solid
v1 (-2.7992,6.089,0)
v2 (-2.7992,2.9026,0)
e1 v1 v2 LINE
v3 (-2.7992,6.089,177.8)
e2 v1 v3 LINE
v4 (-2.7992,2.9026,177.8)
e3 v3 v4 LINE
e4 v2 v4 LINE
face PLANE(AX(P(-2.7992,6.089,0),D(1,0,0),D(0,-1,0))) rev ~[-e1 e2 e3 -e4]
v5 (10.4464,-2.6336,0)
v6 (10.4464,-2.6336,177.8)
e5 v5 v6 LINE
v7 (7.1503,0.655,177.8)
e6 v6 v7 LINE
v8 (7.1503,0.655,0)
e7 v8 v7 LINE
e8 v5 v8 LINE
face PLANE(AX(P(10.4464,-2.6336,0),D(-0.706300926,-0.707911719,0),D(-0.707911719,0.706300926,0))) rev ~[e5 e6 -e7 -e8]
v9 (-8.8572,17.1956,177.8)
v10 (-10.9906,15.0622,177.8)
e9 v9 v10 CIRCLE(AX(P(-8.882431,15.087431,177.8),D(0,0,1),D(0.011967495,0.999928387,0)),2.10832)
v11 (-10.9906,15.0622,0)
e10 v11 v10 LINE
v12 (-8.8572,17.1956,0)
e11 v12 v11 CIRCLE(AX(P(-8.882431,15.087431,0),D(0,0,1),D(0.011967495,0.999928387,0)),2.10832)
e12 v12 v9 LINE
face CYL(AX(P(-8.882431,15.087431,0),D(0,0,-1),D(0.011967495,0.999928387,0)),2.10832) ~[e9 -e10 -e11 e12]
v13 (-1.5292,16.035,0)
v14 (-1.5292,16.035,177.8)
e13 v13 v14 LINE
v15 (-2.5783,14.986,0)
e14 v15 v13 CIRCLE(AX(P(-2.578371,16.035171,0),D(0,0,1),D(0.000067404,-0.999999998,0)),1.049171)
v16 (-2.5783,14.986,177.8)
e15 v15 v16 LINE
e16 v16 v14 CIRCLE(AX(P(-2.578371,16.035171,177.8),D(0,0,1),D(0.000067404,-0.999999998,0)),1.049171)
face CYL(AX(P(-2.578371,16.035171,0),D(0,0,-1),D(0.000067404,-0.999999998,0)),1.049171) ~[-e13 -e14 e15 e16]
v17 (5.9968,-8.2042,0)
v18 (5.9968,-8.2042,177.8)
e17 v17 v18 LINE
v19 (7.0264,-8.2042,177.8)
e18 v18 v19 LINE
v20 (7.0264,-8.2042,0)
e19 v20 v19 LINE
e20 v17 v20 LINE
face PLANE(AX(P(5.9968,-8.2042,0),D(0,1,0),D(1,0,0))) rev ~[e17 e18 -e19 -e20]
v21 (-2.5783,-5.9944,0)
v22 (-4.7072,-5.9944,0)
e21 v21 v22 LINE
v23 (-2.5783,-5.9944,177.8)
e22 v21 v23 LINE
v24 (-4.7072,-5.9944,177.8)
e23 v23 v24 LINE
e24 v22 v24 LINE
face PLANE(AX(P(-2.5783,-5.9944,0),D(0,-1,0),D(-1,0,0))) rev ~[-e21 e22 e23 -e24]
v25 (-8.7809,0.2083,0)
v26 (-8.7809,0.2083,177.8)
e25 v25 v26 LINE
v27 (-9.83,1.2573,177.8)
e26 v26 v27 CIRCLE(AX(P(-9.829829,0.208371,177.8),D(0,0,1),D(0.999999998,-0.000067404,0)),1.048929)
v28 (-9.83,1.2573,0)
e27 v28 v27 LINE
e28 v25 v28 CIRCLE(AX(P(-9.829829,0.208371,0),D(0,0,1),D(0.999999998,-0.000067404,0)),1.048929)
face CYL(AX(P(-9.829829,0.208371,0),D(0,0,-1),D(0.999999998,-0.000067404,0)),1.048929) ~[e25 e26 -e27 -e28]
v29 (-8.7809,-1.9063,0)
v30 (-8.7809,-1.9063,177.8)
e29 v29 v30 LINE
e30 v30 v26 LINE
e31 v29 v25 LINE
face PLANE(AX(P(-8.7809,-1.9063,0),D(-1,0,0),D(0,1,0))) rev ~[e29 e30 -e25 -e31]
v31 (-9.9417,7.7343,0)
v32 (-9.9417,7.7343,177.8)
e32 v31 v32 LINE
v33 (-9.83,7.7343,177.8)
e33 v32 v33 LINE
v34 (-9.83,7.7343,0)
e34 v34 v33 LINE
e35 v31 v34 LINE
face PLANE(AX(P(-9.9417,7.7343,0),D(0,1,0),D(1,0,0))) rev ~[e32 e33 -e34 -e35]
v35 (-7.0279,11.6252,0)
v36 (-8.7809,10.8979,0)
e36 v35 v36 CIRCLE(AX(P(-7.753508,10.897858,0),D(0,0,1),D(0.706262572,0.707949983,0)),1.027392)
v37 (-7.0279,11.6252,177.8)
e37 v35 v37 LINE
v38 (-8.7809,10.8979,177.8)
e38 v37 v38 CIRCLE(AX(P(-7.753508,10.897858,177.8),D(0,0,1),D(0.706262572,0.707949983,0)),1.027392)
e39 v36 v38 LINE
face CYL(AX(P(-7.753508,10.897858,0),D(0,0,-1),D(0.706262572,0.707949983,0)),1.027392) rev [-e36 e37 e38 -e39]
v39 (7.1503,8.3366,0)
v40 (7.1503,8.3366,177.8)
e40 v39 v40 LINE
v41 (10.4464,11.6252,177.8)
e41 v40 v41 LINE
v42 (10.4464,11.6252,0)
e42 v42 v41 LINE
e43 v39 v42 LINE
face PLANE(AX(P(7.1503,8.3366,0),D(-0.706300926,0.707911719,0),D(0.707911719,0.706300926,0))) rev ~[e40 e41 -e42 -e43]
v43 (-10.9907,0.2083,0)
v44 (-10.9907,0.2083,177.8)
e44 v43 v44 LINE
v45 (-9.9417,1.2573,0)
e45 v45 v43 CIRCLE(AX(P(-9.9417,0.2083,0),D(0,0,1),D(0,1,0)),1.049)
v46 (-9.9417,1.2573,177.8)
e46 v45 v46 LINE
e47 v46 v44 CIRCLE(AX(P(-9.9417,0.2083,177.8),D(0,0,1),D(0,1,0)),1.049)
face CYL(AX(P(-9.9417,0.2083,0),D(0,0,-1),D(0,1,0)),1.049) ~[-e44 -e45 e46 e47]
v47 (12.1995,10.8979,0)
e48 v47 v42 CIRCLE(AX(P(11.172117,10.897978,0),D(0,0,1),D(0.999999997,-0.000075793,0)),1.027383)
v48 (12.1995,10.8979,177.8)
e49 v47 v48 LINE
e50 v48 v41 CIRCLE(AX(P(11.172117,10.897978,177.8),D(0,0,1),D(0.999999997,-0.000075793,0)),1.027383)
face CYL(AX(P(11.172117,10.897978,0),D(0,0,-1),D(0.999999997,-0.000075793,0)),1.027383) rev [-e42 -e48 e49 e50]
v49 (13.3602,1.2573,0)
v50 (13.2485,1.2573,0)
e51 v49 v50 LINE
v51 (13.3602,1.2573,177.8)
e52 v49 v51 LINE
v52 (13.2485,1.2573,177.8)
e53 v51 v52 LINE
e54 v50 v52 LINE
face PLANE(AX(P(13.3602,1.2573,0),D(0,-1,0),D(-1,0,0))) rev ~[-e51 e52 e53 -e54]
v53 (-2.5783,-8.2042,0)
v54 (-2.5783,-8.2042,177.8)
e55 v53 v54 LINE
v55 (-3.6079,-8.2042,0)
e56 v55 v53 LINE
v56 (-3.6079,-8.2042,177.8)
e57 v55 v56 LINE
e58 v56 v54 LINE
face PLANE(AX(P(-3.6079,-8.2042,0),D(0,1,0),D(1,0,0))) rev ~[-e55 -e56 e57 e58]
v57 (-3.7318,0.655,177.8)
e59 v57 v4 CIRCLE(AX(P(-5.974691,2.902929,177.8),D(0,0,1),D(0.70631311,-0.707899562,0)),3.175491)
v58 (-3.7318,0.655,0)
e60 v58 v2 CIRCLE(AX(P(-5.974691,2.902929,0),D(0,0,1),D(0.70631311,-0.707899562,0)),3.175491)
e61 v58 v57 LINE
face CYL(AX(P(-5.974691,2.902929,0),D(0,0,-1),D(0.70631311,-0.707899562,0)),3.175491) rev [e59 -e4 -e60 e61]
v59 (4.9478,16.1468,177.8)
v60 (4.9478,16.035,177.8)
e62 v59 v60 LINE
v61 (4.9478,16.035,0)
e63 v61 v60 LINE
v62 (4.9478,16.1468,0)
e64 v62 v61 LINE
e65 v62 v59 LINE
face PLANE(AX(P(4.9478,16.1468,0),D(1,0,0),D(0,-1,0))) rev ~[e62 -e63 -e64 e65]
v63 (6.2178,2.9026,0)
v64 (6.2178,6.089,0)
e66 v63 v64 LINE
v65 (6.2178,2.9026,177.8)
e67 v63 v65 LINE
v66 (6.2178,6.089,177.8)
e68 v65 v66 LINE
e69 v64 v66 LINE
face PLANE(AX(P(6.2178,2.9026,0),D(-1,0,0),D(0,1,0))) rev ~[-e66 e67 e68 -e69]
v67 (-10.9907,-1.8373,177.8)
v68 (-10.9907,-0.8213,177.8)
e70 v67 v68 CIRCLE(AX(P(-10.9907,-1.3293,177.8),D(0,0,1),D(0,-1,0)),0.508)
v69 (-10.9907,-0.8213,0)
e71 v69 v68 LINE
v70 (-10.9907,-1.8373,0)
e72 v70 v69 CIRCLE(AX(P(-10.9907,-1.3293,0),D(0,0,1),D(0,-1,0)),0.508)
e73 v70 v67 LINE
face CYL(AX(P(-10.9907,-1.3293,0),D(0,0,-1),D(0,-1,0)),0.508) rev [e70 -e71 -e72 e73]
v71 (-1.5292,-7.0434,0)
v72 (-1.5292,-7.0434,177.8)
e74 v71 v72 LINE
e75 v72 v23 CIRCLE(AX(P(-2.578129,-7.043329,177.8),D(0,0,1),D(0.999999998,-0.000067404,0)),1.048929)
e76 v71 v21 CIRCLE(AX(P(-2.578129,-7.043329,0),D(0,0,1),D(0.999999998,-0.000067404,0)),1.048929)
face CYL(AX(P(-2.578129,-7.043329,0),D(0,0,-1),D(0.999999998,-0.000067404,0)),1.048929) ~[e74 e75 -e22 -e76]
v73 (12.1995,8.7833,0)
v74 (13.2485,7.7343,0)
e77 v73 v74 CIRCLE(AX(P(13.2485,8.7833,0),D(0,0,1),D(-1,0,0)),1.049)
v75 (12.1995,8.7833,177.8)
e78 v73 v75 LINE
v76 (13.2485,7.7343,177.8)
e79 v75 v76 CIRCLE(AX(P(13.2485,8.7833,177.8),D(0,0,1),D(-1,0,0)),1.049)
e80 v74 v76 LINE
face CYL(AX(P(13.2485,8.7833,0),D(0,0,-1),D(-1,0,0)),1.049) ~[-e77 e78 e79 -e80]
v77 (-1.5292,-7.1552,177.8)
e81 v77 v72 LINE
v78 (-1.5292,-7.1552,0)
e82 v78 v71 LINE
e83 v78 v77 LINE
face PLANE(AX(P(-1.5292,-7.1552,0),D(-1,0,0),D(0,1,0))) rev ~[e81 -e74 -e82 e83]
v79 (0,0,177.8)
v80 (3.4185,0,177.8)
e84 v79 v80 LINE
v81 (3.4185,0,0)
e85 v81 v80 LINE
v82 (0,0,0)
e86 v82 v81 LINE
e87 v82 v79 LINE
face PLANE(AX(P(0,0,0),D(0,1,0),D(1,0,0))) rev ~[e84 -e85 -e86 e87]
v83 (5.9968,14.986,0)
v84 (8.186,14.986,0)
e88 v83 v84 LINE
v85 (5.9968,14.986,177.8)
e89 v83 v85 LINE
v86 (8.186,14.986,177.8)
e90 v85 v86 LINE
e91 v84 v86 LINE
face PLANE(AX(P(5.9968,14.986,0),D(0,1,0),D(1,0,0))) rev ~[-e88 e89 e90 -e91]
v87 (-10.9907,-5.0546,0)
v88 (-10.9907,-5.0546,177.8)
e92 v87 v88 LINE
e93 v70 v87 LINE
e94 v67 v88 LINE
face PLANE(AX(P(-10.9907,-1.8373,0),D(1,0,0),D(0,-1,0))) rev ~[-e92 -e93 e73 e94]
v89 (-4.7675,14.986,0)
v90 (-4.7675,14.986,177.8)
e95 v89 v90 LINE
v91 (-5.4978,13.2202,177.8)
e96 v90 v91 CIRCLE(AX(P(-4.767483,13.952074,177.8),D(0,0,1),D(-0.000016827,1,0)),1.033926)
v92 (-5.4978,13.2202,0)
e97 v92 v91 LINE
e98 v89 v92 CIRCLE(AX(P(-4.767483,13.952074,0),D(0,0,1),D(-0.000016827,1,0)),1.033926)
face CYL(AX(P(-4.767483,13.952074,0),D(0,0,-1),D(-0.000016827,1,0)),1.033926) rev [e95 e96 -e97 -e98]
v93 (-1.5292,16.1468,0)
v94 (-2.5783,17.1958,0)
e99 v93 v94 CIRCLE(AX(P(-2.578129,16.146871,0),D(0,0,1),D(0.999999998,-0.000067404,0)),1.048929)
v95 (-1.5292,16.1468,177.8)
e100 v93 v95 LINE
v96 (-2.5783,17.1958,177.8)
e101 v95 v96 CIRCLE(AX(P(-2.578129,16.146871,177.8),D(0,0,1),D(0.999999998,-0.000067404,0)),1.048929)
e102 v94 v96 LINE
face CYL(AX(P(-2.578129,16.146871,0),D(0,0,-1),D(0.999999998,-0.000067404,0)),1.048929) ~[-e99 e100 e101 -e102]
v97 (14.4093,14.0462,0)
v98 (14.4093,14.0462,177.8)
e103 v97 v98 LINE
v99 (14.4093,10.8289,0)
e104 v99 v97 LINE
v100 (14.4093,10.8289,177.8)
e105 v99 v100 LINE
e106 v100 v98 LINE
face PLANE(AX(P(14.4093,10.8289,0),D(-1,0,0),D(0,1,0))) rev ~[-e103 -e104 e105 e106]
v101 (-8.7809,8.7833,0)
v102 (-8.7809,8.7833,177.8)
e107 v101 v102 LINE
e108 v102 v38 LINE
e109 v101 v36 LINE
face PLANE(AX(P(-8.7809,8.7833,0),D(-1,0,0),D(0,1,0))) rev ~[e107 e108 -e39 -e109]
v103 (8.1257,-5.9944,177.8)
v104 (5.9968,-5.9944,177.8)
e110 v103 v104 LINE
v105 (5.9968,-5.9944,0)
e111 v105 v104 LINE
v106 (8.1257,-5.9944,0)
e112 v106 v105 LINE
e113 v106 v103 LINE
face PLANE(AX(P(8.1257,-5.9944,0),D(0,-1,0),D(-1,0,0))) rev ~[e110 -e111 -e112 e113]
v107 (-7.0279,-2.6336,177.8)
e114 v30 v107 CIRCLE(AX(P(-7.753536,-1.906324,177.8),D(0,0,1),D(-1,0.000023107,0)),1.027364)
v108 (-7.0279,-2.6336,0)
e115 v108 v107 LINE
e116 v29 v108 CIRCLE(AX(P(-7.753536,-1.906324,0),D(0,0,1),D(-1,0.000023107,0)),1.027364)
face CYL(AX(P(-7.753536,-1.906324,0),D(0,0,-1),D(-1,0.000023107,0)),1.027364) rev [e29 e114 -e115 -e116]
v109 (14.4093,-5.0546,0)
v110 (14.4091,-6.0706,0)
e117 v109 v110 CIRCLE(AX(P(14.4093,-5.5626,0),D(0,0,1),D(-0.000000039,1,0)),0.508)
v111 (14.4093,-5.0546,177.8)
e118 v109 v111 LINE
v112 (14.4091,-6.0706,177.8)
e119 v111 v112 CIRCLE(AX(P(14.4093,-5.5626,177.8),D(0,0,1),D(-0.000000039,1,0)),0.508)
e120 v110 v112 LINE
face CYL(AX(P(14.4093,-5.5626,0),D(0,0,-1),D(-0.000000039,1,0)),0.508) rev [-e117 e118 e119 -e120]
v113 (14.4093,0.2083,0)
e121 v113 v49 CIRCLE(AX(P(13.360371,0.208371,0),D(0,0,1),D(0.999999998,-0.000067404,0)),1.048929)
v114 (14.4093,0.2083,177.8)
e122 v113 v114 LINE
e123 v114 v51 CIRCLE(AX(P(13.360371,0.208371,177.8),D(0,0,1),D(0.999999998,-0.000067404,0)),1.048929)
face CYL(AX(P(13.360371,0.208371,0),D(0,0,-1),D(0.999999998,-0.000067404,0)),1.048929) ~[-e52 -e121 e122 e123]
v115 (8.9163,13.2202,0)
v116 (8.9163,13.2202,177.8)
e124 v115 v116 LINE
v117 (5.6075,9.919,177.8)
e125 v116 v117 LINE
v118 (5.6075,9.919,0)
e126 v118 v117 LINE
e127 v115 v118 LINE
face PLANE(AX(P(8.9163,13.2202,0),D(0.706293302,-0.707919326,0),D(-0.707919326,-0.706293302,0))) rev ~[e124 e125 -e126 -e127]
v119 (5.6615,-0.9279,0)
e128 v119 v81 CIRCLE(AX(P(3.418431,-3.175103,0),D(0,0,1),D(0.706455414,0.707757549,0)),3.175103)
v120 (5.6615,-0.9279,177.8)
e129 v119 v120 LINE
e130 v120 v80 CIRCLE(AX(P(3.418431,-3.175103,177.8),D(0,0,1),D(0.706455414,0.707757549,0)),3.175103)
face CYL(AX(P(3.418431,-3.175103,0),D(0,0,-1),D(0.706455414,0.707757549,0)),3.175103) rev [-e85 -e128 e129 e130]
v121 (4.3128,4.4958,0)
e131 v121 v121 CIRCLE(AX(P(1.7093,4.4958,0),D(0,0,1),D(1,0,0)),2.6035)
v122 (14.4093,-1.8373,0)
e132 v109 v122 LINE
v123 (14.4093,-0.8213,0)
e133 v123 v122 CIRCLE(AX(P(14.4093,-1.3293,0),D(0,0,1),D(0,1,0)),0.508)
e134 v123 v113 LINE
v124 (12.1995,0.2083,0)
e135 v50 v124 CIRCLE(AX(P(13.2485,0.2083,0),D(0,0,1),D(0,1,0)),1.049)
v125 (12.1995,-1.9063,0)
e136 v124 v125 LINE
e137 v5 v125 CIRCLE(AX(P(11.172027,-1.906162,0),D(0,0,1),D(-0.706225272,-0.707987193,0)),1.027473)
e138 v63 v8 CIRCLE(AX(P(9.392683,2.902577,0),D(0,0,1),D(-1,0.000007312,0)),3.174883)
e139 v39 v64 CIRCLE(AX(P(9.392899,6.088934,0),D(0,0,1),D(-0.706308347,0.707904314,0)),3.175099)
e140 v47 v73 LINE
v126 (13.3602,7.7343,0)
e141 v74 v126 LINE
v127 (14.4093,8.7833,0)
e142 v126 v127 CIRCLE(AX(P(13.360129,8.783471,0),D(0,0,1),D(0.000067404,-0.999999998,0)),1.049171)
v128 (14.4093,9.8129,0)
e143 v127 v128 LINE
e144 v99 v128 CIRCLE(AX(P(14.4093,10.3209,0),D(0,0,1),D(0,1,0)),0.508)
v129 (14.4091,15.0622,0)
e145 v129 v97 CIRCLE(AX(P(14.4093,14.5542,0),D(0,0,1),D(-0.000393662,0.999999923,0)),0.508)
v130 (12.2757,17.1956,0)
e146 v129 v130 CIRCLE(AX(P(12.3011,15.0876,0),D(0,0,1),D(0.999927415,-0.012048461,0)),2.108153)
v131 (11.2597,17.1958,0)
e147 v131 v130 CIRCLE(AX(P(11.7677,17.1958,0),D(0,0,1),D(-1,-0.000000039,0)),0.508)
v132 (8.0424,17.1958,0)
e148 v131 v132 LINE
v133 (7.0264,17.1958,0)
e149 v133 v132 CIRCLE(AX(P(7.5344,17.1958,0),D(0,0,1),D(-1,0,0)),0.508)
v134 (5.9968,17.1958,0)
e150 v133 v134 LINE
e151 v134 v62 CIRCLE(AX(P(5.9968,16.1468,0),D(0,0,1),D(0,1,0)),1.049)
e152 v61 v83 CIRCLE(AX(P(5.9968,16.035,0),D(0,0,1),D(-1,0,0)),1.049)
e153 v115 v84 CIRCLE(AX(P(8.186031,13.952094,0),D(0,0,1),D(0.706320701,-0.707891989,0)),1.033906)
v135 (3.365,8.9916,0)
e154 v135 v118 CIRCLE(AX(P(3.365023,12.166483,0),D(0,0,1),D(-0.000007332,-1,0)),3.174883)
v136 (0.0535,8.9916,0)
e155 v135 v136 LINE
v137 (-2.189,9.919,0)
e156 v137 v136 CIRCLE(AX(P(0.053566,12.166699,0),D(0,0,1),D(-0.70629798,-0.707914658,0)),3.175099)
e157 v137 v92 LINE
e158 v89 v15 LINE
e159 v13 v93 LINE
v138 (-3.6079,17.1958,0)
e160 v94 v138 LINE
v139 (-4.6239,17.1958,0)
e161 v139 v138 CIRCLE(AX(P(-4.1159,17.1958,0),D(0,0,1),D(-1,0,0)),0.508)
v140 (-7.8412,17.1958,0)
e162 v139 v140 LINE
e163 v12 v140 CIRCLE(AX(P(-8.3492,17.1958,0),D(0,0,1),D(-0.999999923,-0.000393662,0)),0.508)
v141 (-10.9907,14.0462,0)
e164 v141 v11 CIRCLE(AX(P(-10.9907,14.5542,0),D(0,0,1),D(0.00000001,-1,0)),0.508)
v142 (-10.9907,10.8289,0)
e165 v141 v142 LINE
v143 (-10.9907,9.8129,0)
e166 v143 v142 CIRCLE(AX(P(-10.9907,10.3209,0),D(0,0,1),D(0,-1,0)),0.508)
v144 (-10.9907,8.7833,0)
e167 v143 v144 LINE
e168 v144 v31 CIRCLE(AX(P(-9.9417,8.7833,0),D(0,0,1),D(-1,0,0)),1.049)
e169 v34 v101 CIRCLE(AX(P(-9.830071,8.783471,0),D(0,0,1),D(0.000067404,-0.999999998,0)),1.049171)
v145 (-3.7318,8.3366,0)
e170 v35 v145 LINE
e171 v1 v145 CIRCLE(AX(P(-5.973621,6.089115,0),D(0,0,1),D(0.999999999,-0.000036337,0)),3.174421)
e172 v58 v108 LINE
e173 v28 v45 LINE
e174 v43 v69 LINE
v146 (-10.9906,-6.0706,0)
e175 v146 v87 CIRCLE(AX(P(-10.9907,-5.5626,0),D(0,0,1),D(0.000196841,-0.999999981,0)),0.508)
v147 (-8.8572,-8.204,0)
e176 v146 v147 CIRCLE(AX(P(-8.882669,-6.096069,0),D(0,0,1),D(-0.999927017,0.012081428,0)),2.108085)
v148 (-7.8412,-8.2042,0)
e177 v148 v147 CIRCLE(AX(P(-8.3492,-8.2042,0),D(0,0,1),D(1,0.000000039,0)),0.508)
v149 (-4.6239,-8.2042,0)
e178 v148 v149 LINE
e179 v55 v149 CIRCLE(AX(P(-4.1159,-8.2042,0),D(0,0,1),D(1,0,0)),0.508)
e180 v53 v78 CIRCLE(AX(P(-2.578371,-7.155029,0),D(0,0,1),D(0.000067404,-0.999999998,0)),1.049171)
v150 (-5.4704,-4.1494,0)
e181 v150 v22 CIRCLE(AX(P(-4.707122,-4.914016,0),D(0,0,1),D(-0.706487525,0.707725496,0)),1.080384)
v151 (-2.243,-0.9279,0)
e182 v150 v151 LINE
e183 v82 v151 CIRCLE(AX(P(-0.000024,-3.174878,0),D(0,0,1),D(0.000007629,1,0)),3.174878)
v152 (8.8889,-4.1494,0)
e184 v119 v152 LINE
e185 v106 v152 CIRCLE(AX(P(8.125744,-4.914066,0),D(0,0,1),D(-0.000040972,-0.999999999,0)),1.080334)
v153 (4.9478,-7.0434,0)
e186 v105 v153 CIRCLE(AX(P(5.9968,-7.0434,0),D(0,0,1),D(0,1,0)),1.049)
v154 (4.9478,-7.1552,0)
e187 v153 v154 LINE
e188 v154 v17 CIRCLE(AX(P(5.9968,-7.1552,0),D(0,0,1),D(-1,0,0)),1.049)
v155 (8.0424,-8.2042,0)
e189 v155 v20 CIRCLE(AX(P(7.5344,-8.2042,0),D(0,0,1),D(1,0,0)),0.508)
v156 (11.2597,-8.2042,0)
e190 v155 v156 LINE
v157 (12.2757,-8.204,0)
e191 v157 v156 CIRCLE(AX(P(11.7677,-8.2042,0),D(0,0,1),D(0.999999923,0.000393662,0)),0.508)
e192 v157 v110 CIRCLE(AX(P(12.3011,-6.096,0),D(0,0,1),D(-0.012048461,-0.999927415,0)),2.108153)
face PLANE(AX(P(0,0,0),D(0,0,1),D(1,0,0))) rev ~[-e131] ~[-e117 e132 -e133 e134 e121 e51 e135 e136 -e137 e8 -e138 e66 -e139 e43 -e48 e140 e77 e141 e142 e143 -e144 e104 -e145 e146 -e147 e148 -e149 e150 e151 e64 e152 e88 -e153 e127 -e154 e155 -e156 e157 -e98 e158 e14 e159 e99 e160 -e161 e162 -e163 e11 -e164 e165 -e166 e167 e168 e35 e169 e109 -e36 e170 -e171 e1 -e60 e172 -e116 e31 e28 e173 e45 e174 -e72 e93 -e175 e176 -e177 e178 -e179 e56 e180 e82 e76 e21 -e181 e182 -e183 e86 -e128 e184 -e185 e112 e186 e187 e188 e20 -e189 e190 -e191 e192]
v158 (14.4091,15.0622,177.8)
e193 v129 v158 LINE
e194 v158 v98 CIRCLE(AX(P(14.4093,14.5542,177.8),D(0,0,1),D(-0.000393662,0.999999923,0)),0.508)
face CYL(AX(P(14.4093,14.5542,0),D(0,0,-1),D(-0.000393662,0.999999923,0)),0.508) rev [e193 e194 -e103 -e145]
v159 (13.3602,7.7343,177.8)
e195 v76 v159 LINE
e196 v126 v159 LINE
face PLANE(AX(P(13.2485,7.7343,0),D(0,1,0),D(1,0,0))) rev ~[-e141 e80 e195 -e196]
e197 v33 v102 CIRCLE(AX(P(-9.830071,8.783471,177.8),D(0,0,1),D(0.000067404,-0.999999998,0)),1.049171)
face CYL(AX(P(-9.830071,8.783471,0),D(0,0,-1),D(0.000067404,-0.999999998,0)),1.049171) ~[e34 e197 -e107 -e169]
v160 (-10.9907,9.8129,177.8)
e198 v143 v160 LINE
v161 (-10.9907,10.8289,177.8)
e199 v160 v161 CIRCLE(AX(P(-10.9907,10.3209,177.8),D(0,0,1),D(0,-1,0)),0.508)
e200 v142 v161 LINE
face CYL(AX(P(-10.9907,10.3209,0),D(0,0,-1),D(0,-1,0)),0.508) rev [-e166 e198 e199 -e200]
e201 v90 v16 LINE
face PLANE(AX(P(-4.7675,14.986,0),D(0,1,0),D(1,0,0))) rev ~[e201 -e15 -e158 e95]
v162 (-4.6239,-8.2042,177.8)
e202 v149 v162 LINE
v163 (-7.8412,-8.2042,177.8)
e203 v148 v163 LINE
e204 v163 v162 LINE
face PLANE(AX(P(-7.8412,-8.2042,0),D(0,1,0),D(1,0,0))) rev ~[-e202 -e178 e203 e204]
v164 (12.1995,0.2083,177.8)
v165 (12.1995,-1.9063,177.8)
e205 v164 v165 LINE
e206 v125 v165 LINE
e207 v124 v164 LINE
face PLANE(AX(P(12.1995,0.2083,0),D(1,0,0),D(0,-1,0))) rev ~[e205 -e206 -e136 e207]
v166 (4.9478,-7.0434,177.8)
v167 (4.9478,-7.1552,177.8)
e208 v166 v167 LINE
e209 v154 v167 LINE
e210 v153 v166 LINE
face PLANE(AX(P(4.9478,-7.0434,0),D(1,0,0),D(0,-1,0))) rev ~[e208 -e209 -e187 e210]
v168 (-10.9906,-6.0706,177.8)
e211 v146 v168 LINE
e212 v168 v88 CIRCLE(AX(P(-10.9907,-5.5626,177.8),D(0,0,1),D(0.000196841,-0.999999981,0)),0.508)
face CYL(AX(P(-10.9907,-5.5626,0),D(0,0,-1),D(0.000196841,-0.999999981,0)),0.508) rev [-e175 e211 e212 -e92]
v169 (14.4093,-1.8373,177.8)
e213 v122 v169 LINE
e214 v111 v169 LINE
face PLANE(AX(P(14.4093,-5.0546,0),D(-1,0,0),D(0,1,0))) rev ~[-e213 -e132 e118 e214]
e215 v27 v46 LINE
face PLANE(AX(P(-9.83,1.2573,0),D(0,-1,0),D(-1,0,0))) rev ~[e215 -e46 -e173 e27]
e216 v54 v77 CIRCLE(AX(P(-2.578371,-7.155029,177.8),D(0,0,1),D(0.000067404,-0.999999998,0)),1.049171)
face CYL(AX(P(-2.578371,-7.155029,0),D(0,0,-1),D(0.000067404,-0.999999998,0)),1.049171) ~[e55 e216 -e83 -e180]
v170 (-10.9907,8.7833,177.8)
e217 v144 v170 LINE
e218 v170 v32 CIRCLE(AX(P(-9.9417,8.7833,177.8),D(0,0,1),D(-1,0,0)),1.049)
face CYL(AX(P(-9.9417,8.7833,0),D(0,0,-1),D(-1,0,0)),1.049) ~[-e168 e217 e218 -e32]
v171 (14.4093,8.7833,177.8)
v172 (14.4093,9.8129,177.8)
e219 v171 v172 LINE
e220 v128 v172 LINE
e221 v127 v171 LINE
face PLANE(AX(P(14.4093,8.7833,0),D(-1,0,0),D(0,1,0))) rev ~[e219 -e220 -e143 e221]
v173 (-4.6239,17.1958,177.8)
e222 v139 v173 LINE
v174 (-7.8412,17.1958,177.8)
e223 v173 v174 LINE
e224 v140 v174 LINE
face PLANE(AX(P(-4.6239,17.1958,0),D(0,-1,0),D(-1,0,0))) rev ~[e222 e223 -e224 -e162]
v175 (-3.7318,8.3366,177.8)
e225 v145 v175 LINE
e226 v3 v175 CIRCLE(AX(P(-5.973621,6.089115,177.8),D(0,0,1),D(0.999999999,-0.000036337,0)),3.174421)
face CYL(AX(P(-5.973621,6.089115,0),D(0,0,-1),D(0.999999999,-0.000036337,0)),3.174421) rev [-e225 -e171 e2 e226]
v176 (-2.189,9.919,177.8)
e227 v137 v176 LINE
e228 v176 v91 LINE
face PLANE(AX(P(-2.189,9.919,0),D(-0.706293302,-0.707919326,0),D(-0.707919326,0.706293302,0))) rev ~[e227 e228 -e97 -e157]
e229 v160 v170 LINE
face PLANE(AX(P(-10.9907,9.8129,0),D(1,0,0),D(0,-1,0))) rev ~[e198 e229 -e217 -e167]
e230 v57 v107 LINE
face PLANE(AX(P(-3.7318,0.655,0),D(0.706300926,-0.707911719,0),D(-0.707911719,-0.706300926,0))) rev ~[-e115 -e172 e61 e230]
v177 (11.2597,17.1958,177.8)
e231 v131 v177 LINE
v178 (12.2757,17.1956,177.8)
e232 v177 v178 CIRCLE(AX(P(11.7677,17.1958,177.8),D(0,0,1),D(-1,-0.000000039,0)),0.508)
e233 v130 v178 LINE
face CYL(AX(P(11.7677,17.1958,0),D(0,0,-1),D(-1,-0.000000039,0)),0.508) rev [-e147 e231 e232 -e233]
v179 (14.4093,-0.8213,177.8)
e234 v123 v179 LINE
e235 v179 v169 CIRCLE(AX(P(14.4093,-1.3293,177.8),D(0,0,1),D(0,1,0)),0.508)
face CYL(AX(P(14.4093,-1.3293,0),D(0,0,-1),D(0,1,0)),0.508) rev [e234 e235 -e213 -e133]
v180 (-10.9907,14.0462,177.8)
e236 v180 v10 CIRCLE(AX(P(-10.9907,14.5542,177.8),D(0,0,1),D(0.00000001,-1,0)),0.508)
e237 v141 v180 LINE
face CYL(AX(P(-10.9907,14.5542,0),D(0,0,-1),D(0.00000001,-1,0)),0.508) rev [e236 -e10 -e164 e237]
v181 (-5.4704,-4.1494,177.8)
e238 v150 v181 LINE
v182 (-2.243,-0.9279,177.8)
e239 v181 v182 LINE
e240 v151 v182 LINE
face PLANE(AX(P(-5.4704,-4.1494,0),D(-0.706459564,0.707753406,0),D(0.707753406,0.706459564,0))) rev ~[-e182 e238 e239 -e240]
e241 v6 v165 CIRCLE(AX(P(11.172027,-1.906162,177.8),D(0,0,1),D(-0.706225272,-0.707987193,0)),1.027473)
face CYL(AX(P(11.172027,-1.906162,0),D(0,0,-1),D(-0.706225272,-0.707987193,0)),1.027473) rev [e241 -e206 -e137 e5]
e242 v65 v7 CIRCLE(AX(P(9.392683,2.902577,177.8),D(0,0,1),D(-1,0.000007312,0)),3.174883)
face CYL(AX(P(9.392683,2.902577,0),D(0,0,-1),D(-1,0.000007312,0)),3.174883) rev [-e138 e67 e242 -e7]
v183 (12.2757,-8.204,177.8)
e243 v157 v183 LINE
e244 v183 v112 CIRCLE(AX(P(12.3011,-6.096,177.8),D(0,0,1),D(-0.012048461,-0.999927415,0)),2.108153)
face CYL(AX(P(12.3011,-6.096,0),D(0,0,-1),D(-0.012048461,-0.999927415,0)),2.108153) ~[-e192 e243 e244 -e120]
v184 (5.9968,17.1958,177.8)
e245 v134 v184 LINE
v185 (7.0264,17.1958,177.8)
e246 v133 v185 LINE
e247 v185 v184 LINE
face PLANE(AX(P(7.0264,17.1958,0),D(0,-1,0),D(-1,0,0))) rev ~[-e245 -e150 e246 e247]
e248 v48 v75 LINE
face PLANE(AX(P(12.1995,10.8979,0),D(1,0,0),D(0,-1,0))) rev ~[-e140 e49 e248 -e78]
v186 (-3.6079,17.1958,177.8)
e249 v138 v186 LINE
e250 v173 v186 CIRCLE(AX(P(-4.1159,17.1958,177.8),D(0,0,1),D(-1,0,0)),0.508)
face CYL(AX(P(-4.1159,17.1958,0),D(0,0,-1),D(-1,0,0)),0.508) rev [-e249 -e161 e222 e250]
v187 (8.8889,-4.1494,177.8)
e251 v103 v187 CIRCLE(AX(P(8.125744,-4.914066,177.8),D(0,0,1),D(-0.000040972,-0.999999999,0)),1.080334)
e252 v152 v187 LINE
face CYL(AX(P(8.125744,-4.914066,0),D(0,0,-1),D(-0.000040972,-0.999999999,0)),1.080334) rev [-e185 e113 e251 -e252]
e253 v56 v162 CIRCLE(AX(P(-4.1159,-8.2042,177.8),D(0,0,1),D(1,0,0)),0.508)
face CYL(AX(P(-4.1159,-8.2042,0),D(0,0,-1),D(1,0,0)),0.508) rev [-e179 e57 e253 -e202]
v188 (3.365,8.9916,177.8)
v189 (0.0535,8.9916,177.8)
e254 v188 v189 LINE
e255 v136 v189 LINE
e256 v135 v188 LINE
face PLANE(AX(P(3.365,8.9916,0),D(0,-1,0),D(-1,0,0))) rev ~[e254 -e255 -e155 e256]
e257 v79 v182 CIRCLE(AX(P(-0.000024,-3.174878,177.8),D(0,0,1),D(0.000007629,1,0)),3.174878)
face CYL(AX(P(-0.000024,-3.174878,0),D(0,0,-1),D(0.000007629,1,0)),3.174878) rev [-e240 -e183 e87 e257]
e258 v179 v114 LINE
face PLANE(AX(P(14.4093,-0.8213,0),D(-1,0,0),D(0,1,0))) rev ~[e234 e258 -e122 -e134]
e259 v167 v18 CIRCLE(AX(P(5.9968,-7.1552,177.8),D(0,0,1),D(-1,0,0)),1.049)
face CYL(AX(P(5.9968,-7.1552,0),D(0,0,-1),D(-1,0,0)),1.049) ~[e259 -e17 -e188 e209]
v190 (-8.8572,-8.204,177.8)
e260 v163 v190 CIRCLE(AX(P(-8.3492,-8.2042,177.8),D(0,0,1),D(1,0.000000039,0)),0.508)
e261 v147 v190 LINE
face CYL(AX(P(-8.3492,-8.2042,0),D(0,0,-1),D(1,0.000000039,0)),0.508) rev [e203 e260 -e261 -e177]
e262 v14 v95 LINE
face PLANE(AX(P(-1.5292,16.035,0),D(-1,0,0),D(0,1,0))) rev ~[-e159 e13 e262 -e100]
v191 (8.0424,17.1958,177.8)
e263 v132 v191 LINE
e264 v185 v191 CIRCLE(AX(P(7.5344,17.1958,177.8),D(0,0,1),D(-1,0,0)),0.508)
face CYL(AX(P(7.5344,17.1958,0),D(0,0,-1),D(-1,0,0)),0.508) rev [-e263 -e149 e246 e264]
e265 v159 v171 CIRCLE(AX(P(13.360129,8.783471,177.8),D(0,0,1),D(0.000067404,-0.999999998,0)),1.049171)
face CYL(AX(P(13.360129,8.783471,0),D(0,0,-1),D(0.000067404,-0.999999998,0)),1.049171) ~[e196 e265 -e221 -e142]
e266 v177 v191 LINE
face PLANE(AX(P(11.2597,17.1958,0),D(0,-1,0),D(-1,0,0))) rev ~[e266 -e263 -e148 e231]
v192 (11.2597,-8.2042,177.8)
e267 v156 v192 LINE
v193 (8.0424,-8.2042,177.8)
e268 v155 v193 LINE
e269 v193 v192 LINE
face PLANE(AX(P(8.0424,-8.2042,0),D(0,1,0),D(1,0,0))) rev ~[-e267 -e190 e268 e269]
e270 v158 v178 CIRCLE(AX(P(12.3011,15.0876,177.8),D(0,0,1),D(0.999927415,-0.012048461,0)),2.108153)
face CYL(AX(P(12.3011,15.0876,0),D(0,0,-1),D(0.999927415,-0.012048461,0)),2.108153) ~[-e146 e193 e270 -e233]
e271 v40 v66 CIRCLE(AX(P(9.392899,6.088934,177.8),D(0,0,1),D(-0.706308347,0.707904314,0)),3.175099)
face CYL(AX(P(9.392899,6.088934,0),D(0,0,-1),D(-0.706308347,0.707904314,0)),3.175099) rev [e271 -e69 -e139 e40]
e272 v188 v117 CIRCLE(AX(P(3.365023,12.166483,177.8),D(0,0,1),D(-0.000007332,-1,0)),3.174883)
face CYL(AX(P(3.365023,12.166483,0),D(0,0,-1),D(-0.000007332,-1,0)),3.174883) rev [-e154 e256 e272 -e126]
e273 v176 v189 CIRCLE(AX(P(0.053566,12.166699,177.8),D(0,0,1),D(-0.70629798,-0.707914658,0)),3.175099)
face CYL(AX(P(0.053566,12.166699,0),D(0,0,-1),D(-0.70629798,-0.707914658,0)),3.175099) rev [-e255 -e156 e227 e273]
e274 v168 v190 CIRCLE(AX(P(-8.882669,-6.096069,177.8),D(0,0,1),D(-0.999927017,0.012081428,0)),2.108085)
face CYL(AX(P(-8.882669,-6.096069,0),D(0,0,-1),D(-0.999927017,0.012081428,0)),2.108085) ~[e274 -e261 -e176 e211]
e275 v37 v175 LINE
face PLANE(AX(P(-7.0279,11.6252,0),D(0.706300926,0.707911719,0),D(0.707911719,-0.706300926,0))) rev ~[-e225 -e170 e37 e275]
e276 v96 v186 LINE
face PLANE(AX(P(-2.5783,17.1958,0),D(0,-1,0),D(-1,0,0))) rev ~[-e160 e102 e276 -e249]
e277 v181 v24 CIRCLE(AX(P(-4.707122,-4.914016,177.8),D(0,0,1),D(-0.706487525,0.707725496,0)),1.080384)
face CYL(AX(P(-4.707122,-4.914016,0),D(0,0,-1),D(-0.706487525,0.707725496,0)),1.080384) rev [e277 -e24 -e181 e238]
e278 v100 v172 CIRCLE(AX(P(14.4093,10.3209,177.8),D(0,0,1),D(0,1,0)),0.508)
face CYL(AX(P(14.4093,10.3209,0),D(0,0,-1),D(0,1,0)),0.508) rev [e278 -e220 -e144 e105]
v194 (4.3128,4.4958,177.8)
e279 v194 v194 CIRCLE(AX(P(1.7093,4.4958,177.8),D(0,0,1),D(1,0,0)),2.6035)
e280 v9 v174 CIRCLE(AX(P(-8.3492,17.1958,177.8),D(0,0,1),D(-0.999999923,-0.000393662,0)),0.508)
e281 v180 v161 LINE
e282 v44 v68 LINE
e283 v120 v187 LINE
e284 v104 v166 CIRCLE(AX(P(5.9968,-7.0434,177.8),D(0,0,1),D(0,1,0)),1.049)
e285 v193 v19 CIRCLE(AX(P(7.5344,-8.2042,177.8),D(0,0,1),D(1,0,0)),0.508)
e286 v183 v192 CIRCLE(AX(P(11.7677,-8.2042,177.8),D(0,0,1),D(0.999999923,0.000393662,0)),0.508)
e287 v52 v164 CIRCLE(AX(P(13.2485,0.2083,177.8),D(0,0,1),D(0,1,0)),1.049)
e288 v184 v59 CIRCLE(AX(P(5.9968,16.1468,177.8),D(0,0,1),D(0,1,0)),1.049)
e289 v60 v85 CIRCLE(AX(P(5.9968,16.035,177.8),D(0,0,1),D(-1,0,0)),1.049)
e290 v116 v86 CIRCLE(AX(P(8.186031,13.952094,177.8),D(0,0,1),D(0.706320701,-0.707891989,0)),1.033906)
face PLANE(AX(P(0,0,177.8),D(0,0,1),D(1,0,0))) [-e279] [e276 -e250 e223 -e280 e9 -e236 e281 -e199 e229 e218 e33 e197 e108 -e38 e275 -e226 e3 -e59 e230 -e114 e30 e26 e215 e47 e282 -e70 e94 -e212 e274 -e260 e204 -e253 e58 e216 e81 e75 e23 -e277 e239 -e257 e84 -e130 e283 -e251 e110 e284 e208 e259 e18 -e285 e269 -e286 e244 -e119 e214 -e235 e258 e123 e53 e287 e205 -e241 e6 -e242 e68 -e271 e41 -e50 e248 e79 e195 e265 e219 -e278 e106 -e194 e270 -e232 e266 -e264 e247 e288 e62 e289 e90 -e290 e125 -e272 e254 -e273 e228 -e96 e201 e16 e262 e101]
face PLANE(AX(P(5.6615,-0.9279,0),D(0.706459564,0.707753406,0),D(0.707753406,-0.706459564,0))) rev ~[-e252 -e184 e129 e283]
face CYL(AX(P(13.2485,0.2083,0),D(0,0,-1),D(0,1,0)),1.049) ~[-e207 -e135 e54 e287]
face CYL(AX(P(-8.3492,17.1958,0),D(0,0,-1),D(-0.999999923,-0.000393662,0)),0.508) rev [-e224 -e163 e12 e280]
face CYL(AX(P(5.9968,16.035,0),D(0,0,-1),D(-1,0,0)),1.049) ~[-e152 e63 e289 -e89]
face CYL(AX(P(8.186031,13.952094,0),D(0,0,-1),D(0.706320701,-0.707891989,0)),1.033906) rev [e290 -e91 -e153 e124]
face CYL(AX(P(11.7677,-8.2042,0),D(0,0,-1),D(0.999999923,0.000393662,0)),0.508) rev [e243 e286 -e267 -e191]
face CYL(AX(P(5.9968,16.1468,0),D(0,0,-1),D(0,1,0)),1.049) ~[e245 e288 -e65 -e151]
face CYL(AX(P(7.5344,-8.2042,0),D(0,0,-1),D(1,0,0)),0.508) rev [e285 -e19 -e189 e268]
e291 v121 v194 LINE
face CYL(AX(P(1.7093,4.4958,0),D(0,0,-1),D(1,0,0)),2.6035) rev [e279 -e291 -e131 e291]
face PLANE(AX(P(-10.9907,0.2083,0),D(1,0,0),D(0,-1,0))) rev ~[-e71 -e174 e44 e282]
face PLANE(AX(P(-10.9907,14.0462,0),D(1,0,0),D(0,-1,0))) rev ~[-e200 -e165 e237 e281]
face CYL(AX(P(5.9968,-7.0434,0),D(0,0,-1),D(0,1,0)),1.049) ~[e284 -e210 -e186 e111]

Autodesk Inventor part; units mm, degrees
ref_plane "YZ Plane" through (0, 0, 0) normal (1, 0, 0) x (0, 1, 0)
ref_plane "XZ Plane" through (0, 0, 0) normal (0, 1, 0) x (-1, 0, 0)
ref_plane "XY Plane" through (0, 0, 0) normal (0, 0, 1) x (1, 0, 0)
sketch "Sketch1" plane through (0, 0, 0) normal (0, 0, 1) x (1, 0, 0)
  arc A0 (-5.4704, -4.1494) -> (-4.7072, -5.9944) centre (-4.7072, -4.914) ccw
  line L0 (-5.4704, -4.1494) -> (-2.243, -0.9279)
  arc A1 (0, 0) -> (-2.243, -0.9279) centre (0, -3.175) ccw
  line L1 (0, 0) -> (3.4185, 0)
  arc A2 (5.6615, -0.9279) -> (3.4185, 0) centre (3.4185, -3.175) ccw
  line L2 (5.6615, -0.9279) -> (8.8889, -4.1494)
  arc A3 (8.1257, -5.9944) -> (8.8889, -4.1494) centre (8.1257, -4.914) ccw
  line L3 (8.1257, -5.9944) -> (5.9968, -5.9944)
  arc A4 (5.9968, -5.9944) -> (4.9478, -7.0434) centre (5.9968, -7.0434) ccw
  line L4 (4.9478, -7.0434) -> (4.9478, -7.1552)
  arc A5 (4.9478, -7.1552) -> (5.9968, -8.2042) centre (5.9968, -7.1552) ccw
  line L5 (5.9968, -8.2042) -> (7.0264, -8.2042)
  arc A6 (8.0424, -8.2042) -> (7.0264, -8.2042) centre (7.5344, -8.2042) ccw
  line L6 (8.0424, -8.2042) -> (11.2597, -8.2042)
  arc A7 (12.2757, -8.204) -> (11.2597, -8.2042) centre (11.7677, -8.2042) ccw
  arc A8 (12.2757, -8.204) -> (14.4091, -6.0706) centre (12.3011, -6.096) ccw
  arc A9 (14.4093, -5.0546) -> (14.4091, -6.0706) centre (14.4093, -5.5626) ccw
  line L7 (14.4093, -5.0546) -> (14.4093, -1.8373)
  arc A10 (14.4093, -0.8213) -> (14.4093, -1.8373) centre (14.4093, -1.3293) ccw
  line L8 (14.4093, -0.8213) -> (14.4093, 0.2083)
  arc A11 (14.4093, 0.2083) -> (13.3602, 1.2573) centre (13.3602, 0.2083) ccw
  line L9 (13.3602, 1.2573) -> (13.2485, 1.2573)
  arc A12 (13.2485, 1.2573) -> (12.1995, 0.2083) centre (13.2485, 0.2083) ccw
  line L10 (12.1995, 0.2083) -> (12.1995, -1.9063)
  arc A13 (10.4464, -2.6336) -> (12.1995, -1.9063) centre (11.172, -1.9063) ccw
  line L11 (10.4464, -2.6336) -> (7.1503, 0.655)
  arc A14 (6.2178, 2.9026) -> (7.1503, 0.655) centre (9.3928, 2.9026) ccw
  line L12 (6.2178, 2.9026) -> (6.2178, 6.089)
  arc A15 (7.1503, 8.3366) -> (6.2178, 6.089) centre (9.3928, 6.089) ccw
  line L13 (7.1503, 8.3366) -> (10.4464, 11.6252)
  arc A16 (12.1995, 10.8979) -> (10.4464, 11.6252) centre (11.172, 10.8979) ccw
  line L14 (12.1995, 10.8979) -> (12.1995, 8.7833)
  arc A17 (12.1995, 8.7833) -> (13.2485, 7.7343) centre (13.2485, 8.7833) ccw
  line L15 (13.2485, 7.7343) -> (13.3602, 7.7343)
  arc A18 (13.3602, 7.7343) -> (14.4093, 8.7833) centre (13.3602, 8.7833) ccw
  line L16 (14.4093, 8.7833) -> (14.4093, 9.8129)
  arc A19 (14.4093, 10.8289) -> (14.4093, 9.8129) centre (14.4093, 10.3209) ccw
  line L17 (14.4093, 10.8289) -> (14.4093, 14.0462)
  arc A20 (14.4091, 15.0622) -> (14.4093, 14.0462) centre (14.4093, 14.5542) ccw
  arc A21 (14.4091, 15.0622) -> (12.2757, 17.1956) centre (12.3011, 15.0876) ccw
  arc A22 (11.2597, 17.1958) -> (12.2757, 17.1956) centre (11.7677, 17.1958) ccw
  line L18 (11.2597, 17.1958) -> (8.0424, 17.1958)
  arc A23 (7.0264, 17.1958) -> (8.0424, 17.1958) centre (7.5344, 17.1958) ccw
  line L19 (7.0264, 17.1958) -> (5.9968, 17.1958)
  arc A24 (5.9968, 17.1958) -> (4.9478, 16.1468) centre (5.9968, 16.1468) ccw
  line L20 (4.9478, 16.1468) -> (4.9478, 16.035)
  arc A25 (4.9478, 16.035) -> (5.9968, 14.986) centre (5.9968, 16.035) ccw
  line L21 (5.9968, 14.986) -> (8.186, 14.986)
  arc A26 (8.9163, 13.2202) -> (8.186, 14.986) centre (8.186, 13.9521) ccw
  line L22 (8.9163, 13.2202) -> (5.6075, 9.919)
  arc A27 (3.365, 8.9916) -> (5.6075, 9.919) centre (3.365, 12.1666) ccw
  line L23 (3.365, 8.9916) -> (0.0535, 8.9916)
  arc A28 (-2.189, 9.919) -> (0.0535, 8.9916) centre (0.0535, 12.1666) ccw
  line L24 (-2.189, 9.919) -> (-5.4978, 13.2202)
  arc A29 (-4.7675, 14.986) -> (-5.4978, 13.2202) centre (-4.7675, 13.9521) ccw
  line L25 (-4.7675, 14.986) -> (-2.5783, 14.986)
  arc A30 (-2.5783, 14.986) -> (-1.5292, 16.035) centre (-2.5783, 16.035) ccw
  line L26 (-1.5292, 16.035) -> (-1.5292, 16.1468)
  arc A31 (-1.5292, 16.1468) -> (-2.5783, 17.1958) centre (-2.5783, 16.1468) ccw
  line L27 (-2.5783, 17.1958) -> (-3.6079, 17.1958)
  arc A32 (-4.6239, 17.1958) -> (-3.6079, 17.1958) centre (-4.1159, 17.1958) ccw
  line L28 (-4.6239, 17.1958) -> (-7.8412, 17.1958)
  arc A33 (-8.8572, 17.1956) -> (-7.8412, 17.1958) centre (-8.3492, 17.1958) ccw
  arc A34 (-8.8572, 17.1956) -> (-10.9906, 15.0622) centre (-8.8825, 15.0876) ccw
  arc A35 (-10.9907, 14.0462) -> (-10.9906, 15.0622) centre (-10.9907, 14.5542) ccw
  line L29 (-10.9907, 14.0462) -> (-10.9907, 10.8289)
  arc A36 (-10.9907, 9.8129) -> (-10.9907, 10.8289) centre (-10.9907, 10.3209) ccw
  line L30 (-10.9907, 9.8129) -> (-10.9907, 8.7833)
  arc A37 (-10.9907, 8.7833) -> (-9.9417, 7.7343) centre (-9.9417, 8.7833) ccw
  line L31 (-9.9417, 7.7343) -> (-9.83, 7.7343)
  arc A38 (-9.83, 7.7343) -> (-8.7809, 8.7833) centre (-9.83, 8.7833) ccw
  line L32 (-8.7809, 8.7833) -> (-8.7809, 10.8979)
  arc A39 (-7.0279, 11.6252) -> (-8.7809, 10.8979) centre (-7.7535, 10.8979) ccw
  line L33 (-7.0279, 11.6252) -> (-3.7318, 8.3366)
  arc A40 (-2.7992, 6.089) -> (-3.7318, 8.3366) centre (-5.9742, 6.089) ccw
  line L34 (-2.7992, 6.089) -> (-2.7992, 2.9026)
  arc A41 (-3.7318, 0.655) -> (-2.7992, 2.9026) centre (-5.9742, 2.9026) ccw
  line L35 (-3.7318, 0.655) -> (-7.0279, -2.6336)
  arc A42 (-8.7809, -1.9063) -> (-7.0279, -2.6336) centre (-7.7535, -1.9063) ccw
  line L36 (-8.7809, -1.9063) -> (-8.7809, 0.2083)
  arc A43 (-8.7809, 0.2083) -> (-9.83, 1.2573) centre (-9.83, 0.2083) ccw
  line L37 (-9.83, 1.2573) -> (-9.9417, 1.2573)
  arc A44 (-9.9417, 1.2573) -> (-10.9907, 0.2083) centre (-9.9417, 0.2083) ccw
  line L38 (-10.9907, 0.2083) -> (-10.9907, -0.8213)
  arc A45 (-10.9907, -1.8373) -> (-10.9907, -0.8213) centre (-10.9907, -1.3293) ccw
  line L39 (-10.9907, -1.8373) -> (-10.9907, -5.0546)
  arc A46 (-10.9906, -6.0706) -> (-10.9907, -5.0546) centre (-10.9907, -5.5626) ccw
  arc A47 (-10.9906, -6.0706) -> (-8.8572, -8.204) centre (-8.8825, -6.096) ccw
  arc A48 (-7.8412, -8.2042) -> (-8.8572, -8.204) centre (-8.3492, -8.2042) ccw
  line L40 (-7.8412, -8.2042) -> (-4.6239, -8.2042)
  arc A49 (-3.6079, -8.2042) -> (-4.6239, -8.2042) centre (-4.1159, -8.2042) ccw
  line L41 (-3.6079, -8.2042) -> (-2.5783, -8.2042)
  arc A50 (-2.5783, -8.2042) -> (-1.5292, -7.1552) centre (-2.5783, -7.1552) ccw
  line L42 (-1.5292, -7.1552) -> (-1.5292, -7.0434)
  arc A51 (-1.5292, -7.0434) -> (-2.5783, -5.9944) centre (-2.5783, -7.0434) ccw
  line L43 (-2.5783, -5.9944) -> (-4.7072, -5.9944)
  circle A52 centre (1.7093, 4.4958) radius 2.6035
extrude "Extrusion1" add sketch "Sketch1" along normal blind 177.8
properties part number "7in 1x1 T slot"
